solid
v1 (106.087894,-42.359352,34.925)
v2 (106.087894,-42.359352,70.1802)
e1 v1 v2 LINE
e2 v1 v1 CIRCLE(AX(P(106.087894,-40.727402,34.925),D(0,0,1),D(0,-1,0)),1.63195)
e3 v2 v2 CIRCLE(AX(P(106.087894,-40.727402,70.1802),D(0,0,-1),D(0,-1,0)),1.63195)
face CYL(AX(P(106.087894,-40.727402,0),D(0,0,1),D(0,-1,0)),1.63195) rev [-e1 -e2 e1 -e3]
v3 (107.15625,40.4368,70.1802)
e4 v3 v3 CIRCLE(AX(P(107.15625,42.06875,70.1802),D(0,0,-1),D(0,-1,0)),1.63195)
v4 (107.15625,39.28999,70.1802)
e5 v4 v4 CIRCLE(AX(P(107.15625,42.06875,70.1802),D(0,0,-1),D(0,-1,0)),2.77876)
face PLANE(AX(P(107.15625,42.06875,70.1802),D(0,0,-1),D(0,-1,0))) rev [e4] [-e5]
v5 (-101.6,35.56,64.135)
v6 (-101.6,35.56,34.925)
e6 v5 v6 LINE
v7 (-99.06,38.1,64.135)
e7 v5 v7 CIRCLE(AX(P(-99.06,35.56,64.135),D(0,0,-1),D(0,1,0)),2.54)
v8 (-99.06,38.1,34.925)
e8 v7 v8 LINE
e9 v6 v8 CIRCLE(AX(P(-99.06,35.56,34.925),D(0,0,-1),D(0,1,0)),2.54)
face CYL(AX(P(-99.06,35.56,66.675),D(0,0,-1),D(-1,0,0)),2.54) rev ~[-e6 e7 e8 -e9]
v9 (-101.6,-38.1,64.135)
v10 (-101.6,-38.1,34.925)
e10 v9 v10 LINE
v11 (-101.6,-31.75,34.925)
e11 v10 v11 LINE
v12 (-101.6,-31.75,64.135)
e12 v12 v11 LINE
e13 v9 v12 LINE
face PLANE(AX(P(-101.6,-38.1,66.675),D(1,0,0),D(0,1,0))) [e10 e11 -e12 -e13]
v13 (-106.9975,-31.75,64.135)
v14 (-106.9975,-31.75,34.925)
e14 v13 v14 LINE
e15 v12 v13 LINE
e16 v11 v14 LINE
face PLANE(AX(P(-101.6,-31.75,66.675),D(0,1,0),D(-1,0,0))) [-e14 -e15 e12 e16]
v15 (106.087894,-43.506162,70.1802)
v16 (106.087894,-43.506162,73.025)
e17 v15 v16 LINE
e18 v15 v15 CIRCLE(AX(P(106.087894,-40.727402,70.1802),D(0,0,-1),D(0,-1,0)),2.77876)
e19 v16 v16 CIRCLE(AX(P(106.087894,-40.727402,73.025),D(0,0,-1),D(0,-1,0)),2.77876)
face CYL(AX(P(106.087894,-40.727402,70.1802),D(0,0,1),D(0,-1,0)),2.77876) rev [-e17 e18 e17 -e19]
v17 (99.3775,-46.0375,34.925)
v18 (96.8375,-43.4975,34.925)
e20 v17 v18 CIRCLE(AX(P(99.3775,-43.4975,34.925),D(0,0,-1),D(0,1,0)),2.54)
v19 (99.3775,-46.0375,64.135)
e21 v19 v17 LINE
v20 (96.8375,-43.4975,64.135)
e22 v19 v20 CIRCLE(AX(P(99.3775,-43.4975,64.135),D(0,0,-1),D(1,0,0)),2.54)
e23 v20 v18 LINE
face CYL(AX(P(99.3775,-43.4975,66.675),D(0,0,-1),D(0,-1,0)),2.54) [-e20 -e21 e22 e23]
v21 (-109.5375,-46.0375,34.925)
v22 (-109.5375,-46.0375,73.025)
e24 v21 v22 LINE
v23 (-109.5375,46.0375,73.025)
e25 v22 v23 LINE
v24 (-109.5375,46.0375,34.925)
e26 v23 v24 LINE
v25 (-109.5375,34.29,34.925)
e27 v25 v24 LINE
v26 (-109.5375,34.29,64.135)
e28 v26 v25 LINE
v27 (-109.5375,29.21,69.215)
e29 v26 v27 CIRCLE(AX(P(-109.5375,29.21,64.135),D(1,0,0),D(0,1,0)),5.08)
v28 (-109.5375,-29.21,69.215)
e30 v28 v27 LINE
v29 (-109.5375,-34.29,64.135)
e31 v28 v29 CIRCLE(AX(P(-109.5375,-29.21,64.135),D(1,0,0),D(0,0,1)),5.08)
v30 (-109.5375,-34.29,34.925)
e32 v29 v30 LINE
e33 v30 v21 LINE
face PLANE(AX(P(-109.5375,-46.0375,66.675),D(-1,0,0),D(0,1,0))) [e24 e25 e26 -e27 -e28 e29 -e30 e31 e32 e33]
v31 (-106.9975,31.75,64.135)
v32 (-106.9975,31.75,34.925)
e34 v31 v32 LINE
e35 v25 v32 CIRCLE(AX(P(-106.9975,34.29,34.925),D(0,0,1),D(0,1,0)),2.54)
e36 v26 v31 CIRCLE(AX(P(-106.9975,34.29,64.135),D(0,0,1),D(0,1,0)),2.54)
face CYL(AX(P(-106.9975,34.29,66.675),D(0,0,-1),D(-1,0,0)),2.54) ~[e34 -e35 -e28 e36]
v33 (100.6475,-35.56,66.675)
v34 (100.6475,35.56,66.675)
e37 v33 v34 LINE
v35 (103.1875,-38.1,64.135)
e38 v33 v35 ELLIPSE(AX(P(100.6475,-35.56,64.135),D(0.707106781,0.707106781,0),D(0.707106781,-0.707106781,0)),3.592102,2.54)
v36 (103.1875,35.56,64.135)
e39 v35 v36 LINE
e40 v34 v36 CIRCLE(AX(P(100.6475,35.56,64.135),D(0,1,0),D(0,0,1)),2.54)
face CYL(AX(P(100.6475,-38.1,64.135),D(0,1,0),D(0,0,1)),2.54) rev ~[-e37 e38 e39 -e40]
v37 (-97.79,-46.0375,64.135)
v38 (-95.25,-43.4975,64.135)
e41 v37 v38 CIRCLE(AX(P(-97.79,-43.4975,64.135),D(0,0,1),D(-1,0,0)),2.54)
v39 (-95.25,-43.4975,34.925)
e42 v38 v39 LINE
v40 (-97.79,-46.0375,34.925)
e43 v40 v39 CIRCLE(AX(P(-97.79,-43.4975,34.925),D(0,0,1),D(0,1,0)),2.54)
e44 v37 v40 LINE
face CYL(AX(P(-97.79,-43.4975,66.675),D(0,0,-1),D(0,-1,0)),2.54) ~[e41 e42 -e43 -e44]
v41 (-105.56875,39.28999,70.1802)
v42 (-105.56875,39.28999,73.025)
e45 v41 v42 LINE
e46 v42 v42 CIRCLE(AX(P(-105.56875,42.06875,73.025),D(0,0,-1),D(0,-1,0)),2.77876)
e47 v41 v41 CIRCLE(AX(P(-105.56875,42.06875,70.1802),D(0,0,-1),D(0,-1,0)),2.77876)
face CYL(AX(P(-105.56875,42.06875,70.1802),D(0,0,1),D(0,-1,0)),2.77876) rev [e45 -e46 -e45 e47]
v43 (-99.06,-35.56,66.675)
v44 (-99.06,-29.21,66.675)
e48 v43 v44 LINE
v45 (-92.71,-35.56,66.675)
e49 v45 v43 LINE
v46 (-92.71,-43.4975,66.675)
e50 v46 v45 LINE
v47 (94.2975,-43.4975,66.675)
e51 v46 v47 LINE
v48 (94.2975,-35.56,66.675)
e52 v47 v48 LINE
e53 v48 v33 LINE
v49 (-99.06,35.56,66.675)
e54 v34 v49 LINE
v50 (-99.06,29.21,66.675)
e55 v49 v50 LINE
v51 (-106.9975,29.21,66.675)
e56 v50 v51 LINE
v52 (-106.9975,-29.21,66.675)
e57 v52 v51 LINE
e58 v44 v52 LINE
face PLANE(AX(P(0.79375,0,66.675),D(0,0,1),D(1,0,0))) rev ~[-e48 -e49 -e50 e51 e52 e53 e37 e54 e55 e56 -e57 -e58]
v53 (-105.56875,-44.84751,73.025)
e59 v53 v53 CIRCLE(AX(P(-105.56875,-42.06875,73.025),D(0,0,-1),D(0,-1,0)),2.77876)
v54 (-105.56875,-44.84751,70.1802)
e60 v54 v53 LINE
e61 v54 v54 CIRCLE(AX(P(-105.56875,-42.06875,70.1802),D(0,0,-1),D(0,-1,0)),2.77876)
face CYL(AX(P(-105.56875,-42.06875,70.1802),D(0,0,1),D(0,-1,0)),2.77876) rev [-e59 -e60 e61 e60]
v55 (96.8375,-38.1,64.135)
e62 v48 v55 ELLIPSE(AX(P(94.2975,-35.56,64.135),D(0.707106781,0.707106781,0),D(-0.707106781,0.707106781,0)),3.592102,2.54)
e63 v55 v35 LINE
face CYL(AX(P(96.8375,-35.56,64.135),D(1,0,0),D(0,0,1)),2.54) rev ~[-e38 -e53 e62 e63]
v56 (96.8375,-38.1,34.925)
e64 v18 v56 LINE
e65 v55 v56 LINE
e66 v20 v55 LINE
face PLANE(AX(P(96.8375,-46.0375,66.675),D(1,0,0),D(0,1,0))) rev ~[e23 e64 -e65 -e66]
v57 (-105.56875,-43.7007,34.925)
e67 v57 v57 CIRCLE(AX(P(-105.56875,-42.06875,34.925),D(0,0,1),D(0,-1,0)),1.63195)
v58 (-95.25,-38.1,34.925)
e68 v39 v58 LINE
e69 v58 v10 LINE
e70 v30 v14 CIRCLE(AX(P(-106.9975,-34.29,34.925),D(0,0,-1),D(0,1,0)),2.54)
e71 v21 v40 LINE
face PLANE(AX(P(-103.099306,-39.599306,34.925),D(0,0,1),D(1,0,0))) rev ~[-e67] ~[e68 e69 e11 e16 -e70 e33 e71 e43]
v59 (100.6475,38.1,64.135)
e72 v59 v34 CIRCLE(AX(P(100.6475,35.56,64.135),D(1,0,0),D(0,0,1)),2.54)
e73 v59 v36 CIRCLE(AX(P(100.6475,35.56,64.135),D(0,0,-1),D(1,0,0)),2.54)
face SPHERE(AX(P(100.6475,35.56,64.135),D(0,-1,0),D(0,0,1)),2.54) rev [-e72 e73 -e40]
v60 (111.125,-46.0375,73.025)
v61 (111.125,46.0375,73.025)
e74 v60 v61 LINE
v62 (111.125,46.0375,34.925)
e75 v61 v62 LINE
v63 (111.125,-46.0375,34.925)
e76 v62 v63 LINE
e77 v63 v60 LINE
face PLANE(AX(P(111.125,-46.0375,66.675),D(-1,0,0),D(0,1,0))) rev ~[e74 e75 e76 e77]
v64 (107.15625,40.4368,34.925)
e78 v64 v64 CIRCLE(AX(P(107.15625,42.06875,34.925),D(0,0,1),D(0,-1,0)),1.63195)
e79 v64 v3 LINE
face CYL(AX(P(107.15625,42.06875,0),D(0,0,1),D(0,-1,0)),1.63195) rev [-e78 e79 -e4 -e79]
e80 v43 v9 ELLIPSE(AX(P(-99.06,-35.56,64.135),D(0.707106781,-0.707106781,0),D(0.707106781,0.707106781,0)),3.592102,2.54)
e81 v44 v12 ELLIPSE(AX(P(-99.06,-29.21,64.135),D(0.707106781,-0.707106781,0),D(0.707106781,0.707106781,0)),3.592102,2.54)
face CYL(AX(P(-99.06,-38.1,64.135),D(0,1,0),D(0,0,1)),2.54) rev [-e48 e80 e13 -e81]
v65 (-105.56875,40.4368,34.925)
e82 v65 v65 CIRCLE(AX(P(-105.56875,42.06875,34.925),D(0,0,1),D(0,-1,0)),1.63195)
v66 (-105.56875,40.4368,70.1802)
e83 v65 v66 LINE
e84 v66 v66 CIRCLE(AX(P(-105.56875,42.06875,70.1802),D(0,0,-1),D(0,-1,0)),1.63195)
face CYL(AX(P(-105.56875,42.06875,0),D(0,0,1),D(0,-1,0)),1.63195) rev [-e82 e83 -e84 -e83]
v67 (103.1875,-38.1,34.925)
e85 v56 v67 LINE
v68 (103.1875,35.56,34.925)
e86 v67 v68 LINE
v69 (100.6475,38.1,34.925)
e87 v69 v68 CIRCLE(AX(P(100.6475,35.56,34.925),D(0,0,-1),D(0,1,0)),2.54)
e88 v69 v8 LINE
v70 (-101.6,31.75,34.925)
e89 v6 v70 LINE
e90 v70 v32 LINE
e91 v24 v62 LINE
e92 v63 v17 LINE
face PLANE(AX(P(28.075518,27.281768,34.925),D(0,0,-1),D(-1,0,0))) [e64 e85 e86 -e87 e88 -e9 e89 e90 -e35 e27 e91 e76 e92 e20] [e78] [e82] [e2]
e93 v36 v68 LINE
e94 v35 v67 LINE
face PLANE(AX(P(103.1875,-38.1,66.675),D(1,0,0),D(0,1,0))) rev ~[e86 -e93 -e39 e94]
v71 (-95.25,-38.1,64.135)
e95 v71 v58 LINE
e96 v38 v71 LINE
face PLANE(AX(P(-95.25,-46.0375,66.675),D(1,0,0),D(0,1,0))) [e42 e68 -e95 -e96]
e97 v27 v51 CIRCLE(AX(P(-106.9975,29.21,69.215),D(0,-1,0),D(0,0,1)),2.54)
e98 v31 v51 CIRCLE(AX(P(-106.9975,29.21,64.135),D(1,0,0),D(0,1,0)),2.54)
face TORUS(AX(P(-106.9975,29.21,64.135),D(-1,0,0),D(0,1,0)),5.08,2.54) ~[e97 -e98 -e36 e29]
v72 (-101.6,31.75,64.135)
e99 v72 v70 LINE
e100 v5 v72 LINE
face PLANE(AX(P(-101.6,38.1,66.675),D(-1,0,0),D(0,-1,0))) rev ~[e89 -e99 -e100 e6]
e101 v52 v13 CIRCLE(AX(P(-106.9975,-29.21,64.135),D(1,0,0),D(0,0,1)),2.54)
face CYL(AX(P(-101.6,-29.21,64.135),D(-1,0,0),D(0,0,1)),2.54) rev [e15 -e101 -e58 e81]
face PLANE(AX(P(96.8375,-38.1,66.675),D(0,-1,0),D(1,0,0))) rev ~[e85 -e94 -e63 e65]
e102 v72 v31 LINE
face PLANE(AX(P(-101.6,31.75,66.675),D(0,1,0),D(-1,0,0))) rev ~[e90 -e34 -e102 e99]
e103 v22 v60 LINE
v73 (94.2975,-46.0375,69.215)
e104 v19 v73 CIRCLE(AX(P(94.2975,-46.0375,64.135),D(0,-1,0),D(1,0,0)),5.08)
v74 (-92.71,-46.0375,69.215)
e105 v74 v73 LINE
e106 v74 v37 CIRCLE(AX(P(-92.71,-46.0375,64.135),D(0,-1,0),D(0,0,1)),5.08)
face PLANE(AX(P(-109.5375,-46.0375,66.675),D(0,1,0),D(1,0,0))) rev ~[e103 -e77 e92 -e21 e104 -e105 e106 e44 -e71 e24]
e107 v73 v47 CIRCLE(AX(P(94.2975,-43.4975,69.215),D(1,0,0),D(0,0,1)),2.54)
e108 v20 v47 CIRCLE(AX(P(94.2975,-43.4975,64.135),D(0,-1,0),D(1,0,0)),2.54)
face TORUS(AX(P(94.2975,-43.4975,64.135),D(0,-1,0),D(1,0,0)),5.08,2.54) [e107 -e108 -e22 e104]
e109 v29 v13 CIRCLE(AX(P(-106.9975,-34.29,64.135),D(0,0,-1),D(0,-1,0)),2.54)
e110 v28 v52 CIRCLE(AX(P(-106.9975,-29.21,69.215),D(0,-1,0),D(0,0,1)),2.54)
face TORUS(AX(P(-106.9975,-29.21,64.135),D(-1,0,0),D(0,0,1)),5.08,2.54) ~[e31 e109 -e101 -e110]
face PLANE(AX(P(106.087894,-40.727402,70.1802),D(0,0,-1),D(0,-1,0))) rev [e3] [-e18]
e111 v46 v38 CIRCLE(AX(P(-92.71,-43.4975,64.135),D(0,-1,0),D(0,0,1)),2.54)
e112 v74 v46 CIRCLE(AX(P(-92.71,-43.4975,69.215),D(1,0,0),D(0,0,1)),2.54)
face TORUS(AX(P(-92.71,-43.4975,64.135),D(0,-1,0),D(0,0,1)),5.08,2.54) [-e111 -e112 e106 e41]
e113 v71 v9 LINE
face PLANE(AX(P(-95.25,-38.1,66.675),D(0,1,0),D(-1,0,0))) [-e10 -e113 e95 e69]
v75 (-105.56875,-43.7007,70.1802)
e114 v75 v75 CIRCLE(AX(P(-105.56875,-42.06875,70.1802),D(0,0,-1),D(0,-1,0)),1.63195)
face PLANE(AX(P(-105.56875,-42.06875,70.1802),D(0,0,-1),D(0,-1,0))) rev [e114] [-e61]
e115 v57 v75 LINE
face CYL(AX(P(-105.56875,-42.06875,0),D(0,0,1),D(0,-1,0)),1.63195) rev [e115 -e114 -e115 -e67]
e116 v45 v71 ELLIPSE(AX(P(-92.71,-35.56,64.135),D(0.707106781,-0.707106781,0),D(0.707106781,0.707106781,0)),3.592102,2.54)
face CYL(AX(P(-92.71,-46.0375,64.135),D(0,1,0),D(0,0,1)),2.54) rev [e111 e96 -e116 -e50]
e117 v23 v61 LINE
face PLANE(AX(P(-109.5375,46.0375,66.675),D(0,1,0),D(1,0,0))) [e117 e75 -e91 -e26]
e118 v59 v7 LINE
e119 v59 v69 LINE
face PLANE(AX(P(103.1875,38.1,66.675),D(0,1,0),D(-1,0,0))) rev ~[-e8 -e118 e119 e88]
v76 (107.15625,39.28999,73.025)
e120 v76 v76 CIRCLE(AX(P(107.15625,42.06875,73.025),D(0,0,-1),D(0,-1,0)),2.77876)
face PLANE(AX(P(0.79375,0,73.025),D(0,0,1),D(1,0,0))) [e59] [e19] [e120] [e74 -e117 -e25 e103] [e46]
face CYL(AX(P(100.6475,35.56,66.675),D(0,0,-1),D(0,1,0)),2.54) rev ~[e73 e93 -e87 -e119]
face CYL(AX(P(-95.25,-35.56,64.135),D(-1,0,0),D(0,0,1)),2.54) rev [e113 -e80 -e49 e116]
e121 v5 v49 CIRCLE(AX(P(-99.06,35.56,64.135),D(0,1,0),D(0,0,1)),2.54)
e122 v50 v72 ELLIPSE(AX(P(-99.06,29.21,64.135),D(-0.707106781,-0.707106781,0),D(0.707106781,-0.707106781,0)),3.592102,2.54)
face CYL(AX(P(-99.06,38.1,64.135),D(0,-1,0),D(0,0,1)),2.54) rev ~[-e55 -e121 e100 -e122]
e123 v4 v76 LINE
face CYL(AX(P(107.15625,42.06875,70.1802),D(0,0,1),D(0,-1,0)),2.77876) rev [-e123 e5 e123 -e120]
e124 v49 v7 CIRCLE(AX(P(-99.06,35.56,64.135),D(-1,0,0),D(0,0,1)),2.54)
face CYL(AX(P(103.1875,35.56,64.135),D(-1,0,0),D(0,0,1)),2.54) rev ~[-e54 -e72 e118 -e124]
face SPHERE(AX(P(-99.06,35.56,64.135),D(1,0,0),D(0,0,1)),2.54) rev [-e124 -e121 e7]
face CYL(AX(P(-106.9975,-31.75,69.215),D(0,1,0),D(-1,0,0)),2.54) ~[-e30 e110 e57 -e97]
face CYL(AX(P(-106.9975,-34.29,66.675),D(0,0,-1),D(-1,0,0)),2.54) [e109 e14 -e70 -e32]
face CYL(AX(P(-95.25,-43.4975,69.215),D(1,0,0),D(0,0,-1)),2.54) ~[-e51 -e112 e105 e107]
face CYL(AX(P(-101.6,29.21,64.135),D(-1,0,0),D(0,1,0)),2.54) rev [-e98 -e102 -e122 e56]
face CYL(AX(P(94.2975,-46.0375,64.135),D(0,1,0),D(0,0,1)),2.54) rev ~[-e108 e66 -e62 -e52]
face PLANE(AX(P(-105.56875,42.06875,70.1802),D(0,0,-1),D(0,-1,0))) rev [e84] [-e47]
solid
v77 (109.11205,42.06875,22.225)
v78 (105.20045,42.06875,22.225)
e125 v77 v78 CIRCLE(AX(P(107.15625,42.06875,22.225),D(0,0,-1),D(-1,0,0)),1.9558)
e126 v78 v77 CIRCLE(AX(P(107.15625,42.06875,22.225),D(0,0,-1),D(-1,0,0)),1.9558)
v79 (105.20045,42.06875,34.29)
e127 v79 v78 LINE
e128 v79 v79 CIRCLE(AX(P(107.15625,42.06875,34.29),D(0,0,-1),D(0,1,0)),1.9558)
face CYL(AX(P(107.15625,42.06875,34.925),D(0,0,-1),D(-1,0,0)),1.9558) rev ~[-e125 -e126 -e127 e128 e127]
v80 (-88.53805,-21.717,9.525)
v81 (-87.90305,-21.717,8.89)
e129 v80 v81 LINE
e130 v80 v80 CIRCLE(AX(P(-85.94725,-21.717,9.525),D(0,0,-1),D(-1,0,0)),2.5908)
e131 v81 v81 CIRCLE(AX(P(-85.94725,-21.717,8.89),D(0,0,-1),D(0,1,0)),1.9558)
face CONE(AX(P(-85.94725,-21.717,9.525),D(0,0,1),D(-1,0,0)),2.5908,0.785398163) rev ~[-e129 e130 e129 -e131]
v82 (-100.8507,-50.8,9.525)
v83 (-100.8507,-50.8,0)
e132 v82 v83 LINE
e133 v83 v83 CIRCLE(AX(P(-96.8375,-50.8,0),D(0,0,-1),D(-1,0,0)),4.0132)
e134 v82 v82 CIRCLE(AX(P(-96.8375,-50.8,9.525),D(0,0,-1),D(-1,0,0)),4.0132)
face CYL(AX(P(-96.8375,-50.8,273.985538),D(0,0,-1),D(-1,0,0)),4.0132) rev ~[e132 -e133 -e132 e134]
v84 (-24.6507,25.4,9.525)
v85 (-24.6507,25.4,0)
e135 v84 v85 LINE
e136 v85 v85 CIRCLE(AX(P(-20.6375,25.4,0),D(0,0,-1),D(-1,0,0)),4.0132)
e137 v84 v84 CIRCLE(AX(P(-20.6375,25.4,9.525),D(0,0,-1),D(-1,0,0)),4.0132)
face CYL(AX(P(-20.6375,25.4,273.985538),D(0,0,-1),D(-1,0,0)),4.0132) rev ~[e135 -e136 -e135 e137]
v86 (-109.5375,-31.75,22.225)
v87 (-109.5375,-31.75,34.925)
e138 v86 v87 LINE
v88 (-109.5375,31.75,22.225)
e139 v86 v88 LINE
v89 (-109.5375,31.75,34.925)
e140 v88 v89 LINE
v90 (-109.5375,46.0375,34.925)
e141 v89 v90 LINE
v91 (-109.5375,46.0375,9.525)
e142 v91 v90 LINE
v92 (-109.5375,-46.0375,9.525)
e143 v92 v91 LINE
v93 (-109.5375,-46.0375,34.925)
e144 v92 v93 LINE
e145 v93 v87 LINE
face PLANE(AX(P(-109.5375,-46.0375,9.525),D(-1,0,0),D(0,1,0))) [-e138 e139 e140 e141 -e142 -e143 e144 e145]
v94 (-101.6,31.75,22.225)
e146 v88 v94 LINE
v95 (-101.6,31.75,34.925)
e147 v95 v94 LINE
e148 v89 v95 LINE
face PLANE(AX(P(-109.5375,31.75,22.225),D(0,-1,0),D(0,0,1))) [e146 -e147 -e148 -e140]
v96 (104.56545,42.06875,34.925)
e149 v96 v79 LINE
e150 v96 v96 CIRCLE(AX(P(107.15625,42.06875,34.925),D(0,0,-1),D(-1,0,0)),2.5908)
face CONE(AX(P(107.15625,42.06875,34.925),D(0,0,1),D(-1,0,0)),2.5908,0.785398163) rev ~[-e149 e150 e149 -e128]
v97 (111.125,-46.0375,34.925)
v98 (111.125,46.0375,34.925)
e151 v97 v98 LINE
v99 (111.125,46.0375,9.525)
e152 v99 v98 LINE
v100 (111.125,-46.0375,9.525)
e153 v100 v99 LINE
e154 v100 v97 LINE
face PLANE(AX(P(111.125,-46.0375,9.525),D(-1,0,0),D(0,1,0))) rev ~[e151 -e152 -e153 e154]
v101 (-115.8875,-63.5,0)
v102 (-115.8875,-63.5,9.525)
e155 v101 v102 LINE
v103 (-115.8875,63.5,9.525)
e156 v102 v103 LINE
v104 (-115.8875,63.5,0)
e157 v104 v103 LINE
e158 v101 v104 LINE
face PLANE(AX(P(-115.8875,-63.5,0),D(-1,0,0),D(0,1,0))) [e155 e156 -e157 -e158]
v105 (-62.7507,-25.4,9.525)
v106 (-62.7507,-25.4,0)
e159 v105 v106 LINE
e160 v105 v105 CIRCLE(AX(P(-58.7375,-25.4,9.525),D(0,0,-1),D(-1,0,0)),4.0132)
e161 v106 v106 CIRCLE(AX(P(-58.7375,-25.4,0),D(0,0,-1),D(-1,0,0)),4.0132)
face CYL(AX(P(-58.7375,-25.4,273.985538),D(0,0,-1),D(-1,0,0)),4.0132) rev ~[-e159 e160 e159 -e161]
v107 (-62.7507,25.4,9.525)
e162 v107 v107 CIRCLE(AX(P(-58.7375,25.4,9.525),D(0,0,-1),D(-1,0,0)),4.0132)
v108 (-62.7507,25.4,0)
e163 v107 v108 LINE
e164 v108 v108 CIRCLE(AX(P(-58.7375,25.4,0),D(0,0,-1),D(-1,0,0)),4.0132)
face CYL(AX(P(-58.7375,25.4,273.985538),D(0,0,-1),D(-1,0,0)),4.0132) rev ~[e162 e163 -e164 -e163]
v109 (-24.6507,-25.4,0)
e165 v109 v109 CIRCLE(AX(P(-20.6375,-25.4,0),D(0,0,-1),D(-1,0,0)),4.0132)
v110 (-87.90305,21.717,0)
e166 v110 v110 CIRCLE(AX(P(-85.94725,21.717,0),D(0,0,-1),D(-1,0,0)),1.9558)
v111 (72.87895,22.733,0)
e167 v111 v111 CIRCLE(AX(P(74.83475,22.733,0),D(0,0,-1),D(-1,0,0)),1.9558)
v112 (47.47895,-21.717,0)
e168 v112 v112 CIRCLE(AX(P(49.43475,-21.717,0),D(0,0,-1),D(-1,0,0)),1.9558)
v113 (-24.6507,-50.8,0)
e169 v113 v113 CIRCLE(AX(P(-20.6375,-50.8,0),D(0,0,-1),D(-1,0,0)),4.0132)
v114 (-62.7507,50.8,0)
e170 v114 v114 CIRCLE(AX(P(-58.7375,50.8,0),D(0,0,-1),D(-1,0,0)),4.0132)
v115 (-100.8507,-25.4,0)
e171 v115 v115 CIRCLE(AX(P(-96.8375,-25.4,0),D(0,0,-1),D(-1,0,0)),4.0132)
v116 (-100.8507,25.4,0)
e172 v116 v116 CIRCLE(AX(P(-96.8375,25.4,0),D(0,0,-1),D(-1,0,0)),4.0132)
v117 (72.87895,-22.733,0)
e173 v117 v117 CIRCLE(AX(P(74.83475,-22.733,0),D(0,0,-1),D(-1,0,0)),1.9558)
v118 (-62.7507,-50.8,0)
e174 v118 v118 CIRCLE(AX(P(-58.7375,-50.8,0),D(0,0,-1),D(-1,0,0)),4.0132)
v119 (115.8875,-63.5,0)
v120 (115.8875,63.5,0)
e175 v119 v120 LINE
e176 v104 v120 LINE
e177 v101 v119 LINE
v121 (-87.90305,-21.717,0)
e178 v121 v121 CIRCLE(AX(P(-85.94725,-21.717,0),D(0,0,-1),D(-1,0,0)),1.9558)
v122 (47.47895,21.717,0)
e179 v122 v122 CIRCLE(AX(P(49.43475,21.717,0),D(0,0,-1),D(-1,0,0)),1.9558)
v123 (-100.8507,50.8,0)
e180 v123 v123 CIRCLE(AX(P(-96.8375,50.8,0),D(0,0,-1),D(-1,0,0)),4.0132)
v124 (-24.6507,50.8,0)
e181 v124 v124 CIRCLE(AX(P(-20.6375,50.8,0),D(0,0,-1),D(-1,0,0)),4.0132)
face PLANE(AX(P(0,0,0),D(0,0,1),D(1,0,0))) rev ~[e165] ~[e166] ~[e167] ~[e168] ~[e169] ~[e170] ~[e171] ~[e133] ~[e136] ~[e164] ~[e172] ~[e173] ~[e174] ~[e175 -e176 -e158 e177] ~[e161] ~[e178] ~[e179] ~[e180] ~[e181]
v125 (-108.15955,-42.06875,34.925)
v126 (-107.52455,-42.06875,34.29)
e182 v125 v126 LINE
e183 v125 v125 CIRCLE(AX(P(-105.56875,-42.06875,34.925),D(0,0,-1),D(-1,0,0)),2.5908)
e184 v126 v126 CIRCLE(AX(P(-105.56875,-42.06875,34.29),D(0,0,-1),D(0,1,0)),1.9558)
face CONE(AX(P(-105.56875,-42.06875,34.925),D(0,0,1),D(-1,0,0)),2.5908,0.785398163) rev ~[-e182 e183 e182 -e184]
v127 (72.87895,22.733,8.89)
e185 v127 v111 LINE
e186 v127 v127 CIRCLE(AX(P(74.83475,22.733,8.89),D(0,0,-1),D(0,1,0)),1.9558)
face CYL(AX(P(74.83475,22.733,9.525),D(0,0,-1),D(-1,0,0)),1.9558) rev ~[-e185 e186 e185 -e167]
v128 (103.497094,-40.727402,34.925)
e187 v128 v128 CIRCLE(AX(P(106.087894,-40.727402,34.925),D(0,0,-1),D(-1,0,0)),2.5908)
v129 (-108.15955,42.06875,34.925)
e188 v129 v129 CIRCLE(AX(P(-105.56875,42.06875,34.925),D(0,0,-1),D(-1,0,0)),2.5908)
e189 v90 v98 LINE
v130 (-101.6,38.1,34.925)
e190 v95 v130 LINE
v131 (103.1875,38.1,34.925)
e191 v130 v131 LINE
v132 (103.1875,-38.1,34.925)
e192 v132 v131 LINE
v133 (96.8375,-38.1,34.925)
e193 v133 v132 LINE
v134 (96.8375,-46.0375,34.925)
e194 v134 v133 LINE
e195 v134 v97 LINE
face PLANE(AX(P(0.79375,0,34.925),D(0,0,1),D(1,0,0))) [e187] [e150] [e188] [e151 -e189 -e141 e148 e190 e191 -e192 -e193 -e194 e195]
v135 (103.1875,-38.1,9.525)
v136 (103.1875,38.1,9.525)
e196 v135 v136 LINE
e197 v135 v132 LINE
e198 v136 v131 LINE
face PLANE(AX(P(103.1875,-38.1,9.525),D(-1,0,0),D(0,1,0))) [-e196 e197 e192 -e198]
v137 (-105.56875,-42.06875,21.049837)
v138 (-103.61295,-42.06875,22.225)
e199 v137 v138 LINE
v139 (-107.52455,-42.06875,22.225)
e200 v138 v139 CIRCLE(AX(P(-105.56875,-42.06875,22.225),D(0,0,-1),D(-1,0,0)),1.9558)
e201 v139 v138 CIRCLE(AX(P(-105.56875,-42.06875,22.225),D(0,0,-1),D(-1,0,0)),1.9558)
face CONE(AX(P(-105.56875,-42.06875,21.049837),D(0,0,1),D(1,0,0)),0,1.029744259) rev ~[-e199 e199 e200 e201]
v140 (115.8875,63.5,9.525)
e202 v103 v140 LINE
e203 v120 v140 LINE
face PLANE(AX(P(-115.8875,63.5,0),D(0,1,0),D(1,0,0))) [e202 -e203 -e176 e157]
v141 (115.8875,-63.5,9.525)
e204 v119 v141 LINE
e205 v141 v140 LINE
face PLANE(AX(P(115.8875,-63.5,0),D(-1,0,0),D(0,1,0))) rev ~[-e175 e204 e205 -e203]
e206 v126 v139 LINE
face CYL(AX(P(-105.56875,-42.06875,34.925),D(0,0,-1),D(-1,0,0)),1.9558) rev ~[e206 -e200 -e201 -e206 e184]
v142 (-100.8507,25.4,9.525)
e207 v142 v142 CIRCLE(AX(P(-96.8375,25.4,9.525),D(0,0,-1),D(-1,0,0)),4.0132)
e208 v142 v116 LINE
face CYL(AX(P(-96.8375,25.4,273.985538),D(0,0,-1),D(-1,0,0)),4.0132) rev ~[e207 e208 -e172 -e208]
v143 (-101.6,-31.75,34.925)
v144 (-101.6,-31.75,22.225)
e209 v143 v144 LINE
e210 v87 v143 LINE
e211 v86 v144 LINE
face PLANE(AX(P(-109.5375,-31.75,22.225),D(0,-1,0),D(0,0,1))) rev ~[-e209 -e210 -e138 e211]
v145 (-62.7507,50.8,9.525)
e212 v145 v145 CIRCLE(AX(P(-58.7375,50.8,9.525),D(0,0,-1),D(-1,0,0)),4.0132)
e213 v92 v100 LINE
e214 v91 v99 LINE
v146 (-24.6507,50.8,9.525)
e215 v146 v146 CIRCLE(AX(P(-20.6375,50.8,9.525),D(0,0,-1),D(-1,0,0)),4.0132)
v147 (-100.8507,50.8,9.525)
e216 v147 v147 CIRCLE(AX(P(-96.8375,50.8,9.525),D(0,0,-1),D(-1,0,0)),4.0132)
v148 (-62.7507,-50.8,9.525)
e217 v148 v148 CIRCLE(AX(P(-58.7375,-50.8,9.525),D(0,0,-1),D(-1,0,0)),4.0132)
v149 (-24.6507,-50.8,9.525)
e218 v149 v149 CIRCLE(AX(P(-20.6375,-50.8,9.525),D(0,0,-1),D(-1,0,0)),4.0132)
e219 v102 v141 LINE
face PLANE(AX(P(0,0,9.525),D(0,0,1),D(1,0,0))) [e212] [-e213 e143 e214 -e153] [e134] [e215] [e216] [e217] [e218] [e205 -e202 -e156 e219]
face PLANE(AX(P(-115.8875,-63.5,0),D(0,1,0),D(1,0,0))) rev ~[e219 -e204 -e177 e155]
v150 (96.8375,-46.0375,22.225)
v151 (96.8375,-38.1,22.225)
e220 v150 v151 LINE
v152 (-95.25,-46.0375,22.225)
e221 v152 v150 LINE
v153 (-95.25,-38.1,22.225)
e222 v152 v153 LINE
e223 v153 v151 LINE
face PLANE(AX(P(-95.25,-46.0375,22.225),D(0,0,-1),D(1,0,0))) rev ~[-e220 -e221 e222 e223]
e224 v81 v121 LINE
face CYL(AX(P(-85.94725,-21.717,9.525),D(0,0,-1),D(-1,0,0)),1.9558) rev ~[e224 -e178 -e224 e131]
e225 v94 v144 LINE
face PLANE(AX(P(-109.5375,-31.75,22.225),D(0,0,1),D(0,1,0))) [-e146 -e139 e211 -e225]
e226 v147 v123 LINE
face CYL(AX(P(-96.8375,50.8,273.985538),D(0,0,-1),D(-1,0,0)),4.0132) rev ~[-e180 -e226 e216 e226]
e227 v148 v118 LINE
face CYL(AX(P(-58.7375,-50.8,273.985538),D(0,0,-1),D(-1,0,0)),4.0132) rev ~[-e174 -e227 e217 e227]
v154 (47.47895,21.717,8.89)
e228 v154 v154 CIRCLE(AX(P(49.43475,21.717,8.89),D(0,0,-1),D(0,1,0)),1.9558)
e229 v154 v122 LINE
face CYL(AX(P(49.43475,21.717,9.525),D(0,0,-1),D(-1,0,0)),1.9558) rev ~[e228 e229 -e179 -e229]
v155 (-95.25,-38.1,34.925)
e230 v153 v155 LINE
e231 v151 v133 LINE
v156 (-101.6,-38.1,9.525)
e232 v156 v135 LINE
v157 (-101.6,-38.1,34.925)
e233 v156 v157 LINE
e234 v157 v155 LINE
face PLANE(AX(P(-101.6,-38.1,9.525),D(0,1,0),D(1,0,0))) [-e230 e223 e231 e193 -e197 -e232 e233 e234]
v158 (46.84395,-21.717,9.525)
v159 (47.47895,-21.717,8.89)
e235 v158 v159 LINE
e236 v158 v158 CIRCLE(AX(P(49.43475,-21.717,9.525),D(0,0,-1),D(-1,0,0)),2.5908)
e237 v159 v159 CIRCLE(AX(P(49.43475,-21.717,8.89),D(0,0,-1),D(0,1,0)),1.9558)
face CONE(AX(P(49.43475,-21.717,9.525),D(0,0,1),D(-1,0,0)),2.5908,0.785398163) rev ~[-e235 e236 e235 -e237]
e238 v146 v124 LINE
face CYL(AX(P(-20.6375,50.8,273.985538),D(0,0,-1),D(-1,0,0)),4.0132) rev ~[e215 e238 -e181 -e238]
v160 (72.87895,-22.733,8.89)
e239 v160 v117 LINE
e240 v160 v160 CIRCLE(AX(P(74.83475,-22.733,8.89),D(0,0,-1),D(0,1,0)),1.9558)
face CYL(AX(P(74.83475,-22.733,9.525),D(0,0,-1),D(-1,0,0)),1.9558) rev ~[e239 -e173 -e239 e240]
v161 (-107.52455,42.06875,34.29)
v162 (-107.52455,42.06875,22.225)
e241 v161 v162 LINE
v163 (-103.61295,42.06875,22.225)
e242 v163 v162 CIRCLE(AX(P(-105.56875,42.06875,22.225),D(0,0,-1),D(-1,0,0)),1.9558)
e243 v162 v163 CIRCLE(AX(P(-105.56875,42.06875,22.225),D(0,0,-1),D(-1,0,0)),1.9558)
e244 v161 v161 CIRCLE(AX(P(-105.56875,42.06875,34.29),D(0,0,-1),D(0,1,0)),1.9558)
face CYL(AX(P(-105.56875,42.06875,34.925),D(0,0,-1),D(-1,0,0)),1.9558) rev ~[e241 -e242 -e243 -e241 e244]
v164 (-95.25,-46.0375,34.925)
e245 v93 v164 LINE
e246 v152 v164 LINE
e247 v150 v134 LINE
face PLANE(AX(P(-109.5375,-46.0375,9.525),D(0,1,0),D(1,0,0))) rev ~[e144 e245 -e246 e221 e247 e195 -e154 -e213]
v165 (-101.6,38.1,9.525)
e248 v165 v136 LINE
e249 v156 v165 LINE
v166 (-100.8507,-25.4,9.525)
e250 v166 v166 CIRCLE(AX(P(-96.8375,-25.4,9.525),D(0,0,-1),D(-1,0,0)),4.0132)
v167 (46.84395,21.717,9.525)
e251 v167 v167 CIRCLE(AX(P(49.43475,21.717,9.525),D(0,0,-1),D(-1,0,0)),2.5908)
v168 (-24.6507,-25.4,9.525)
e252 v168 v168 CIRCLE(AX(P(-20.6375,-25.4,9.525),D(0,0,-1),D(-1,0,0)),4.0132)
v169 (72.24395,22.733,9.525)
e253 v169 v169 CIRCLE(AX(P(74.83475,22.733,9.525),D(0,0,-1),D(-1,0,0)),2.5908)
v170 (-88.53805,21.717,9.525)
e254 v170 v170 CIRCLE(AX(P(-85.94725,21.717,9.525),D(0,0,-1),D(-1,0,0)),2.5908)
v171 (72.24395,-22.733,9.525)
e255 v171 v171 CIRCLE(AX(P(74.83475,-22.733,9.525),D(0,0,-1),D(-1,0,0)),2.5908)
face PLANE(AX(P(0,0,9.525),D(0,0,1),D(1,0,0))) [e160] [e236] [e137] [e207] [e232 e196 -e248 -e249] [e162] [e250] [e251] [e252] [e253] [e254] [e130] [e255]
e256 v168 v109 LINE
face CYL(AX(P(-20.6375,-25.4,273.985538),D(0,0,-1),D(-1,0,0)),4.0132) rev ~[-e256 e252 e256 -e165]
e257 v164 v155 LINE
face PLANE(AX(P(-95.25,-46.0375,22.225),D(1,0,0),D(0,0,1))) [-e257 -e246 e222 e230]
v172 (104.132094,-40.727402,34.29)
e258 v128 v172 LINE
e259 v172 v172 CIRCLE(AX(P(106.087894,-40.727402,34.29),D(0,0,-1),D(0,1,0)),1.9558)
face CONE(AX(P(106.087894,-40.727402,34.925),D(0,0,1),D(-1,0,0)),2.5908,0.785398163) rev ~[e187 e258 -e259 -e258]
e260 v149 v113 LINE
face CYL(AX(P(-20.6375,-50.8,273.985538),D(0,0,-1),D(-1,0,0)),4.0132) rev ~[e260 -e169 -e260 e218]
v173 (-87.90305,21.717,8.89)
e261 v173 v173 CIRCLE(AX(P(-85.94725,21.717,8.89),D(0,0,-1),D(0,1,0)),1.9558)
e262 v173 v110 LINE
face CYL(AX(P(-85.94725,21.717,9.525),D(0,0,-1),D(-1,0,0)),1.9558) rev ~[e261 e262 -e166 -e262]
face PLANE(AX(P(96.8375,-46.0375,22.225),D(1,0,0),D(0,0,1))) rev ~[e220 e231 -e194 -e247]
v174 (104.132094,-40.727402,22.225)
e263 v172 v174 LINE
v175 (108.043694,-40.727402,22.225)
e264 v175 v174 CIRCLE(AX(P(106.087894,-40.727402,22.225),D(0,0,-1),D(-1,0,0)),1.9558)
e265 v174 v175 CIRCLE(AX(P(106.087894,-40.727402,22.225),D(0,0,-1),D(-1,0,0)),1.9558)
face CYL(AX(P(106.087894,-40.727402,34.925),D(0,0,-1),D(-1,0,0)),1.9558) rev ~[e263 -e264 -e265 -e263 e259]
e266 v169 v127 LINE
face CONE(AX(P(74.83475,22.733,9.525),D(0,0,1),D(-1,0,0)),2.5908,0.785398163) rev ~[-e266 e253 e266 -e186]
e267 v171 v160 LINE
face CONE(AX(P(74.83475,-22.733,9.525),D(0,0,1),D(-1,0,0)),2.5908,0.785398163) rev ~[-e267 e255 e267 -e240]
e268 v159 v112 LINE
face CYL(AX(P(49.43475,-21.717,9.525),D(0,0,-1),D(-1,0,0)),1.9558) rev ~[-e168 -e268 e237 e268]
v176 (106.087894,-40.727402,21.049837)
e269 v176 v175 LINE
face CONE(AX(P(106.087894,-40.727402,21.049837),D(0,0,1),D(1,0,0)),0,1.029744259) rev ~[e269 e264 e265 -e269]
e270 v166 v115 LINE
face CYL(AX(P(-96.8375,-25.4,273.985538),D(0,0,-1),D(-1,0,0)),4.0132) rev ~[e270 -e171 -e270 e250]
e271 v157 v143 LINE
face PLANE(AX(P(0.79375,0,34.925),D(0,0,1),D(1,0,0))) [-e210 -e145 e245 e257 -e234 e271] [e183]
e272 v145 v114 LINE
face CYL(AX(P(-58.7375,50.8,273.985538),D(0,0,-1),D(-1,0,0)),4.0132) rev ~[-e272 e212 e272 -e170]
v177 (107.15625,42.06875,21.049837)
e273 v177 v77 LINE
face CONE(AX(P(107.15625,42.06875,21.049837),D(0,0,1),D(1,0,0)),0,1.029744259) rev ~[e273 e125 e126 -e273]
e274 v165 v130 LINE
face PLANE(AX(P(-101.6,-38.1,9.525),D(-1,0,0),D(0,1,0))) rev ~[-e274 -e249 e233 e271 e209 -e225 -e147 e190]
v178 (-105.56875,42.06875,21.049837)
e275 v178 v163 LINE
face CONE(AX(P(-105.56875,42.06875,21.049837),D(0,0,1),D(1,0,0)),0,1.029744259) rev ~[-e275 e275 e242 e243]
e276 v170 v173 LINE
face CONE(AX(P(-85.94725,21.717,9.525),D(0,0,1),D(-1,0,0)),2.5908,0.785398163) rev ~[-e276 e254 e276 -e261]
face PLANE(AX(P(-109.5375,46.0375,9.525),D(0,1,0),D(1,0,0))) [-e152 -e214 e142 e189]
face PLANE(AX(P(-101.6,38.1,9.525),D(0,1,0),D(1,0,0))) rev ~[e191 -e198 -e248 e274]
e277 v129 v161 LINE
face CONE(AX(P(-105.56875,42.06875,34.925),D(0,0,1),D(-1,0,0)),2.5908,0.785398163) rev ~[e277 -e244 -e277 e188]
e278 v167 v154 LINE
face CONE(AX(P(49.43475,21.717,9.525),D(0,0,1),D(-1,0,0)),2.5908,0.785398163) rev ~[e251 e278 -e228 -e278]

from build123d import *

# Parameters (mm, degrees)
SKETCH1_W                                     = 231.775
SKETCH1_H                                     = 127
BASE_DEPTH                                    = 9.525
O_0_316_DIAMETER_HOLE1_D                      = 8.0264
SKETCH4_W                                     = 220.6625
SKETCH4_H                                     = 92.075
SKETCH4_W_2                                   = 204.7875
SKETCH4_H_2                                   = 76.2
BOSS_EXTRUDE2_DEPTH                           = 25.4
F_23_0_154_DIAMETER_HOLE1_D                   = 3.9116
F_23_0_154_DIAMETER_HOLE1_CSINK_D             = 5.1816
F_23_0_154_DIAMETER_HOLE1_CSINK_ANGLE         = 90
F_23_0_154_DIAMETER_HOLE2_D                   = 3.9116
F_23_0_154_DIAMETER_HOLE2_DEPTH               = 12.7
F_23_0_154_DIAMETER_HOLE2_CSINK_D             = 5.1816
F_23_0_154_DIAMETER_HOLE2_CSINK_ANGLE         = 90
F_23_0_154_DIAMETER_HOLE2_TIP                 = 1.175163199
CUT_EXTRUDE1_REACH                            = 165.243
SKETCH11_W                                    = 192.0875
SKETCH11_H                                    = 12.7
CUT_EXTRUDE2_REACH                            = 238.788
SKETCH12_W                                    = 12.7
SKETCH12_H                                    = 63.5
BOSS_EXTRUDE3_DEPTH                           = 31.75
BOSS_EXTRUDE3_2_DEPTH                         = 31.75
SKETCH14_W                                    = 220.6625
SKETCH14_H                                    = 92.075
BOSS_EXTRUDE4_DEPTH                           = 6.35
CBORE_FOR_4_SOCKET_HEAD_CAP_SCREW1_AT_2_COUNT = 2
CBORE_FOR_4_SOCKET_HEAD_CAP_SCREW1_AT_2_PITCH = 84.1375
CBORE_FOR_4_SOCKET_HEAD_CAP_SCREW1_AT_3_COUNT = 2
CBORE_FOR_4_SOCKET_HEAD_CAP_SCREW1_AT_3_PITCH = 228.75979658
CBORE_FOR_4_SOCKET_HEAD_CAP_SCREW1_AT_4_COUNT = 2
CBORE_FOR_4_SOCKET_HEAD_CAP_SCREW1_AT_4_PITCH = 211.660894197
FILLET1_R                                     = 2.54


with BuildPart() as part:
    # Sketch1 → base (new body)
    with BuildSketch(Plane.XY):
        Rectangle(SKETCH1_W, SKETCH1_H)
    extrude(amount=BASE_DEPTH)

    # O (0.316) Diameter Hole1 (through all)
    with Locations(Plane.XY.offset(9.525)):
        with Locations((-96.8375, 50.8), (-58.7375, 50.8), (-20.6375, 50.8), (-20.6375, 25.4), (-58.7375, 25.4), (-96.8375, 25.4), (-96.8375, -25.4), (-96.8375, -50.8), (-58.7375, -50.8), (-58.7375, -25.4), (-20.6375, -25.4), (-20.6375, -50.8)):
            Hole(O_0_316_DIAMETER_HOLE1_D / 2)

    # Sketch4 → Boss-Extrude2 (add)
    with BuildSketch(Plane.XY.offset(9.525)):
        with Locations((0.79375, 0)):
            Rectangle(SKETCH4_W, SKETCH4_H)
        with Locations((0.79375, 0)):
            Rectangle(SKETCH4_W_2, SKETCH4_H_2, mode=Mode.SUBTRACT)
    extrude(amount=BOSS_EXTRUDE2_DEPTH)

    # #23 (0.154) Diameter Hole1 (through all)
    with Locations(Plane.XY.offset(9.525)):
        with Locations((74.83475, 22.733), (74.83475, -22.733), (-85.94725, 21.717), (49.43475, 21.717), (49.43475, -21.717), (-85.94725, -21.717)):
            CounterSinkHole(F_23_0_154_DIAMETER_HOLE1_D / 2, F_23_0_154_DIAMETER_HOLE1_CSINK_D / 2, counter_sink_angle=F_23_0_154_DIAMETER_HOLE1_CSINK_ANGLE)

    # #23 (0.154) Diameter Hole2
    with Locations(Plane.XY.offset(34.925)):
        with Locations((-105.56875, 42.06875), (-105.56875, -42.06875), (106.087893927, -40.727402306), (107.15625, 42.06875)):
            CounterSinkHole(F_23_0_154_DIAMETER_HOLE2_D / 2, F_23_0_154_DIAMETER_HOLE2_CSINK_D / 2, depth=F_23_0_154_DIAMETER_HOLE2_DEPTH, counter_sink_angle=F_23_0_154_DIAMETER_HOLE2_CSINK_ANGLE)
            with Locations((0, 0, -(F_23_0_154_DIAMETER_HOLE2_DEPTH + F_23_0_154_DIAMETER_HOLE2_TIP / 2))):  # 118° drill point
                Cone(0, F_23_0_154_DIAMETER_HOLE2_D / 2, F_23_0_154_DIAMETER_HOLE2_TIP, mode=Mode.SUBTRACT)

    # Sketch11 → Cut-Extrude1 (cut, up to next)
    with BuildSketch(Plane.XZ.offset(46.0375), mode=Mode.PRIVATE) as cut_extrude1_sk1:
        with Locations((0.79375, 28.575)):
            Rectangle(SKETCH11_W, SKETCH11_H)
    cut_extrude1_tool1 = extrude(cut_extrude1_sk1.sketch, amount=-CUT_EXTRUDE1_REACH, mode=Mode.PRIVATE) & part.part
    add(cut_extrude1_tool1.solids().sort_by_distance((0.79375, -46.0375, 28.575))[0], mode=Mode.SUBTRACT)

    # Sketch12 → Cut-Extrude2 (cut, up to next)
    with BuildSketch(Plane.ZY.offset(109.5375), mode=Mode.PRIVATE) as cut_extrude2_sk1:
        with Locations((28.575, 0)):
            Rectangle(SKETCH12_W, SKETCH12_H)
    cut_extrude2_tool1 = extrude(cut_extrude2_sk1.sketch, amount=-CUT_EXTRUDE2_REACH, mode=Mode.PRIVATE) & part.part
    add(cut_extrude2_tool1.solids().sort_by_distance((-109.5375, 0, 28.575))[0], mode=Mode.SUBTRACT)


with BuildPart() as body_2:
    # Sketch13 → Boss-Extrude3 (new body)
    with BuildSketch(Plane.XY.offset(66.675)):
        Polygon((-101.6, 31.75), (-109.5375, 31.75), (-109.5375, 46.0375), (111.125, 46.0375), (111.125, -46.0375), (96.8375, -46.0375), (96.8375, -38.1), (103.1875, -38.1), (103.1875, 38.1), (-101.6, 38.1), align=None)
    extrude(amount=-BOSS_EXTRUDE3_DEPTH)



with BuildPart() as body_3:
    # Sketch13 → Boss-Extrude3 2 (new body)
    with BuildSketch(Plane.XY.offset(66.675)):
        Polygon((-101.6, -31.75), (-109.5375, -31.75), (-109.5375, -46.0375), (-95.25, -46.0375), (-95.25, -38.1), (-101.6, -38.1), align=None)
    extrude(amount=-BOSS_EXTRUDE3_2_DEPTH)


with BuildPart() as body_2_1:
    add(body_2.part)

    add(body_3.part)  # Boss-Extrude4 merges body 3
    # Sketch14 → Boss-Extrude4 (add)
    with BuildSketch(Plane.XY.offset(66.675)):
        with Locations((0.79375, 0)):
            Rectangle(SKETCH14_W, SKETCH14_H)
    extrude(amount=BOSS_EXTRUDE4_DEPTH)

    # Sketch16 → CBORE for #4 Socket Head Cap Screw1 (revolve, cut)
    with BuildSketch(Plane(origin=(-105.56875, -42.06875, 73.025), x_dir=(0, -1, 0), z_dir=(1, 0, 0))):
        Polygon((0, 0), (0, 73.025), (1.63195, 73.025), (1.63195, 2.8448), (2.77876, 2.8448), (2.77876, 0), align=None)
    cbore_for_4_socket_head_cap_screw1 = revolve(axis=Axis((-105.56875, -42.06875, 79.375), (0, 0, -1)), mode=Mode.SUBTRACT)

    # CBORE for #4 Socket Head Cap Screw1 at 2: CBORE for #4 Socket Head Cap Screw1 ×2
    with Locations(*[(0, i * CBORE_FOR_4_SOCKET_HEAD_CAP_SCREW1_AT_2_PITCH, 0) for i in range(1, CBORE_FOR_4_SOCKET_HEAD_CAP_SCREW1_AT_2_COUNT)]):
        add(cbore_for_4_socket_head_cap_screw1, mode=Mode.SUBTRACT)

    # CBORE for #4 Socket Head Cap Screw1 at 3: CBORE for #4 Socket Head Cap Screw1 ×2
    with Locations(*[Vector(0.9299055305190211, 0.36779845610080775, 0) * (i * CBORE_FOR_4_SOCKET_HEAD_CAP_SCREW1_AT_3_PITCH) for i in range(1, CBORE_FOR_4_SOCKET_HEAD_CAP_SCREW1_AT_3_COUNT)]):
        add(cbore_for_4_socket_head_cap_screw1, mode=Mode.SUBTRACT)

    # CBORE for #4 Socket Head Cap Screw1 at 4: CBORE for #4 Socket Head Cap Screw1 ×2
    with Locations(*[Vector(0.9999799194388271, 0.006337248544668003, 0) * (i * CBORE_FOR_4_SOCKET_HEAD_CAP_SCREW1_AT_4_PITCH) for i in range(1, CBORE_FOR_4_SOCKET_HEAD_CAP_SCREW1_AT_4_COUNT)]):
        add(cbore_for_4_socket_head_cap_screw1, mode=Mode.SUBTRACT)

    # Fillet1
    fillet1_edges = [body_2_1.edges().sort_by_distance(p)[0] for p in [
        (96.8375, -42.06875, 66.675),
        (100.0125, -38.1, 66.675),
        (103.1875, 0, 66.675),
        (0.79375, 38.1, 66.675),
        (-101.6, 34.925, 66.675),
        (-101.6, 38.1, 50.8),
        (103.1875, 38.1, 50.8),
        (96.8375, -46.0375, 50.8),
        (-109.5375, 31.75, 50.8),
        (-109.5375, 0, 66.675),
        (0.79375, -46.0375, 66.675),
        (-95.25, -46.0375, 50.8),
        (-109.5375, -31.75, 50.8),
        (-101.6, -34.925, 66.675),
        (-105.56875, -31.75, 66.675),
        (-95.25, -42.06875, 66.675),
        (-98.425, -38.1, 66.675),
        (-105.56875, 31.75, 66.675),
    ]]
    fillet(fillet1_edges, radius=FILLET1_R)


solid = Compound([part.part, body_2_1.part])
